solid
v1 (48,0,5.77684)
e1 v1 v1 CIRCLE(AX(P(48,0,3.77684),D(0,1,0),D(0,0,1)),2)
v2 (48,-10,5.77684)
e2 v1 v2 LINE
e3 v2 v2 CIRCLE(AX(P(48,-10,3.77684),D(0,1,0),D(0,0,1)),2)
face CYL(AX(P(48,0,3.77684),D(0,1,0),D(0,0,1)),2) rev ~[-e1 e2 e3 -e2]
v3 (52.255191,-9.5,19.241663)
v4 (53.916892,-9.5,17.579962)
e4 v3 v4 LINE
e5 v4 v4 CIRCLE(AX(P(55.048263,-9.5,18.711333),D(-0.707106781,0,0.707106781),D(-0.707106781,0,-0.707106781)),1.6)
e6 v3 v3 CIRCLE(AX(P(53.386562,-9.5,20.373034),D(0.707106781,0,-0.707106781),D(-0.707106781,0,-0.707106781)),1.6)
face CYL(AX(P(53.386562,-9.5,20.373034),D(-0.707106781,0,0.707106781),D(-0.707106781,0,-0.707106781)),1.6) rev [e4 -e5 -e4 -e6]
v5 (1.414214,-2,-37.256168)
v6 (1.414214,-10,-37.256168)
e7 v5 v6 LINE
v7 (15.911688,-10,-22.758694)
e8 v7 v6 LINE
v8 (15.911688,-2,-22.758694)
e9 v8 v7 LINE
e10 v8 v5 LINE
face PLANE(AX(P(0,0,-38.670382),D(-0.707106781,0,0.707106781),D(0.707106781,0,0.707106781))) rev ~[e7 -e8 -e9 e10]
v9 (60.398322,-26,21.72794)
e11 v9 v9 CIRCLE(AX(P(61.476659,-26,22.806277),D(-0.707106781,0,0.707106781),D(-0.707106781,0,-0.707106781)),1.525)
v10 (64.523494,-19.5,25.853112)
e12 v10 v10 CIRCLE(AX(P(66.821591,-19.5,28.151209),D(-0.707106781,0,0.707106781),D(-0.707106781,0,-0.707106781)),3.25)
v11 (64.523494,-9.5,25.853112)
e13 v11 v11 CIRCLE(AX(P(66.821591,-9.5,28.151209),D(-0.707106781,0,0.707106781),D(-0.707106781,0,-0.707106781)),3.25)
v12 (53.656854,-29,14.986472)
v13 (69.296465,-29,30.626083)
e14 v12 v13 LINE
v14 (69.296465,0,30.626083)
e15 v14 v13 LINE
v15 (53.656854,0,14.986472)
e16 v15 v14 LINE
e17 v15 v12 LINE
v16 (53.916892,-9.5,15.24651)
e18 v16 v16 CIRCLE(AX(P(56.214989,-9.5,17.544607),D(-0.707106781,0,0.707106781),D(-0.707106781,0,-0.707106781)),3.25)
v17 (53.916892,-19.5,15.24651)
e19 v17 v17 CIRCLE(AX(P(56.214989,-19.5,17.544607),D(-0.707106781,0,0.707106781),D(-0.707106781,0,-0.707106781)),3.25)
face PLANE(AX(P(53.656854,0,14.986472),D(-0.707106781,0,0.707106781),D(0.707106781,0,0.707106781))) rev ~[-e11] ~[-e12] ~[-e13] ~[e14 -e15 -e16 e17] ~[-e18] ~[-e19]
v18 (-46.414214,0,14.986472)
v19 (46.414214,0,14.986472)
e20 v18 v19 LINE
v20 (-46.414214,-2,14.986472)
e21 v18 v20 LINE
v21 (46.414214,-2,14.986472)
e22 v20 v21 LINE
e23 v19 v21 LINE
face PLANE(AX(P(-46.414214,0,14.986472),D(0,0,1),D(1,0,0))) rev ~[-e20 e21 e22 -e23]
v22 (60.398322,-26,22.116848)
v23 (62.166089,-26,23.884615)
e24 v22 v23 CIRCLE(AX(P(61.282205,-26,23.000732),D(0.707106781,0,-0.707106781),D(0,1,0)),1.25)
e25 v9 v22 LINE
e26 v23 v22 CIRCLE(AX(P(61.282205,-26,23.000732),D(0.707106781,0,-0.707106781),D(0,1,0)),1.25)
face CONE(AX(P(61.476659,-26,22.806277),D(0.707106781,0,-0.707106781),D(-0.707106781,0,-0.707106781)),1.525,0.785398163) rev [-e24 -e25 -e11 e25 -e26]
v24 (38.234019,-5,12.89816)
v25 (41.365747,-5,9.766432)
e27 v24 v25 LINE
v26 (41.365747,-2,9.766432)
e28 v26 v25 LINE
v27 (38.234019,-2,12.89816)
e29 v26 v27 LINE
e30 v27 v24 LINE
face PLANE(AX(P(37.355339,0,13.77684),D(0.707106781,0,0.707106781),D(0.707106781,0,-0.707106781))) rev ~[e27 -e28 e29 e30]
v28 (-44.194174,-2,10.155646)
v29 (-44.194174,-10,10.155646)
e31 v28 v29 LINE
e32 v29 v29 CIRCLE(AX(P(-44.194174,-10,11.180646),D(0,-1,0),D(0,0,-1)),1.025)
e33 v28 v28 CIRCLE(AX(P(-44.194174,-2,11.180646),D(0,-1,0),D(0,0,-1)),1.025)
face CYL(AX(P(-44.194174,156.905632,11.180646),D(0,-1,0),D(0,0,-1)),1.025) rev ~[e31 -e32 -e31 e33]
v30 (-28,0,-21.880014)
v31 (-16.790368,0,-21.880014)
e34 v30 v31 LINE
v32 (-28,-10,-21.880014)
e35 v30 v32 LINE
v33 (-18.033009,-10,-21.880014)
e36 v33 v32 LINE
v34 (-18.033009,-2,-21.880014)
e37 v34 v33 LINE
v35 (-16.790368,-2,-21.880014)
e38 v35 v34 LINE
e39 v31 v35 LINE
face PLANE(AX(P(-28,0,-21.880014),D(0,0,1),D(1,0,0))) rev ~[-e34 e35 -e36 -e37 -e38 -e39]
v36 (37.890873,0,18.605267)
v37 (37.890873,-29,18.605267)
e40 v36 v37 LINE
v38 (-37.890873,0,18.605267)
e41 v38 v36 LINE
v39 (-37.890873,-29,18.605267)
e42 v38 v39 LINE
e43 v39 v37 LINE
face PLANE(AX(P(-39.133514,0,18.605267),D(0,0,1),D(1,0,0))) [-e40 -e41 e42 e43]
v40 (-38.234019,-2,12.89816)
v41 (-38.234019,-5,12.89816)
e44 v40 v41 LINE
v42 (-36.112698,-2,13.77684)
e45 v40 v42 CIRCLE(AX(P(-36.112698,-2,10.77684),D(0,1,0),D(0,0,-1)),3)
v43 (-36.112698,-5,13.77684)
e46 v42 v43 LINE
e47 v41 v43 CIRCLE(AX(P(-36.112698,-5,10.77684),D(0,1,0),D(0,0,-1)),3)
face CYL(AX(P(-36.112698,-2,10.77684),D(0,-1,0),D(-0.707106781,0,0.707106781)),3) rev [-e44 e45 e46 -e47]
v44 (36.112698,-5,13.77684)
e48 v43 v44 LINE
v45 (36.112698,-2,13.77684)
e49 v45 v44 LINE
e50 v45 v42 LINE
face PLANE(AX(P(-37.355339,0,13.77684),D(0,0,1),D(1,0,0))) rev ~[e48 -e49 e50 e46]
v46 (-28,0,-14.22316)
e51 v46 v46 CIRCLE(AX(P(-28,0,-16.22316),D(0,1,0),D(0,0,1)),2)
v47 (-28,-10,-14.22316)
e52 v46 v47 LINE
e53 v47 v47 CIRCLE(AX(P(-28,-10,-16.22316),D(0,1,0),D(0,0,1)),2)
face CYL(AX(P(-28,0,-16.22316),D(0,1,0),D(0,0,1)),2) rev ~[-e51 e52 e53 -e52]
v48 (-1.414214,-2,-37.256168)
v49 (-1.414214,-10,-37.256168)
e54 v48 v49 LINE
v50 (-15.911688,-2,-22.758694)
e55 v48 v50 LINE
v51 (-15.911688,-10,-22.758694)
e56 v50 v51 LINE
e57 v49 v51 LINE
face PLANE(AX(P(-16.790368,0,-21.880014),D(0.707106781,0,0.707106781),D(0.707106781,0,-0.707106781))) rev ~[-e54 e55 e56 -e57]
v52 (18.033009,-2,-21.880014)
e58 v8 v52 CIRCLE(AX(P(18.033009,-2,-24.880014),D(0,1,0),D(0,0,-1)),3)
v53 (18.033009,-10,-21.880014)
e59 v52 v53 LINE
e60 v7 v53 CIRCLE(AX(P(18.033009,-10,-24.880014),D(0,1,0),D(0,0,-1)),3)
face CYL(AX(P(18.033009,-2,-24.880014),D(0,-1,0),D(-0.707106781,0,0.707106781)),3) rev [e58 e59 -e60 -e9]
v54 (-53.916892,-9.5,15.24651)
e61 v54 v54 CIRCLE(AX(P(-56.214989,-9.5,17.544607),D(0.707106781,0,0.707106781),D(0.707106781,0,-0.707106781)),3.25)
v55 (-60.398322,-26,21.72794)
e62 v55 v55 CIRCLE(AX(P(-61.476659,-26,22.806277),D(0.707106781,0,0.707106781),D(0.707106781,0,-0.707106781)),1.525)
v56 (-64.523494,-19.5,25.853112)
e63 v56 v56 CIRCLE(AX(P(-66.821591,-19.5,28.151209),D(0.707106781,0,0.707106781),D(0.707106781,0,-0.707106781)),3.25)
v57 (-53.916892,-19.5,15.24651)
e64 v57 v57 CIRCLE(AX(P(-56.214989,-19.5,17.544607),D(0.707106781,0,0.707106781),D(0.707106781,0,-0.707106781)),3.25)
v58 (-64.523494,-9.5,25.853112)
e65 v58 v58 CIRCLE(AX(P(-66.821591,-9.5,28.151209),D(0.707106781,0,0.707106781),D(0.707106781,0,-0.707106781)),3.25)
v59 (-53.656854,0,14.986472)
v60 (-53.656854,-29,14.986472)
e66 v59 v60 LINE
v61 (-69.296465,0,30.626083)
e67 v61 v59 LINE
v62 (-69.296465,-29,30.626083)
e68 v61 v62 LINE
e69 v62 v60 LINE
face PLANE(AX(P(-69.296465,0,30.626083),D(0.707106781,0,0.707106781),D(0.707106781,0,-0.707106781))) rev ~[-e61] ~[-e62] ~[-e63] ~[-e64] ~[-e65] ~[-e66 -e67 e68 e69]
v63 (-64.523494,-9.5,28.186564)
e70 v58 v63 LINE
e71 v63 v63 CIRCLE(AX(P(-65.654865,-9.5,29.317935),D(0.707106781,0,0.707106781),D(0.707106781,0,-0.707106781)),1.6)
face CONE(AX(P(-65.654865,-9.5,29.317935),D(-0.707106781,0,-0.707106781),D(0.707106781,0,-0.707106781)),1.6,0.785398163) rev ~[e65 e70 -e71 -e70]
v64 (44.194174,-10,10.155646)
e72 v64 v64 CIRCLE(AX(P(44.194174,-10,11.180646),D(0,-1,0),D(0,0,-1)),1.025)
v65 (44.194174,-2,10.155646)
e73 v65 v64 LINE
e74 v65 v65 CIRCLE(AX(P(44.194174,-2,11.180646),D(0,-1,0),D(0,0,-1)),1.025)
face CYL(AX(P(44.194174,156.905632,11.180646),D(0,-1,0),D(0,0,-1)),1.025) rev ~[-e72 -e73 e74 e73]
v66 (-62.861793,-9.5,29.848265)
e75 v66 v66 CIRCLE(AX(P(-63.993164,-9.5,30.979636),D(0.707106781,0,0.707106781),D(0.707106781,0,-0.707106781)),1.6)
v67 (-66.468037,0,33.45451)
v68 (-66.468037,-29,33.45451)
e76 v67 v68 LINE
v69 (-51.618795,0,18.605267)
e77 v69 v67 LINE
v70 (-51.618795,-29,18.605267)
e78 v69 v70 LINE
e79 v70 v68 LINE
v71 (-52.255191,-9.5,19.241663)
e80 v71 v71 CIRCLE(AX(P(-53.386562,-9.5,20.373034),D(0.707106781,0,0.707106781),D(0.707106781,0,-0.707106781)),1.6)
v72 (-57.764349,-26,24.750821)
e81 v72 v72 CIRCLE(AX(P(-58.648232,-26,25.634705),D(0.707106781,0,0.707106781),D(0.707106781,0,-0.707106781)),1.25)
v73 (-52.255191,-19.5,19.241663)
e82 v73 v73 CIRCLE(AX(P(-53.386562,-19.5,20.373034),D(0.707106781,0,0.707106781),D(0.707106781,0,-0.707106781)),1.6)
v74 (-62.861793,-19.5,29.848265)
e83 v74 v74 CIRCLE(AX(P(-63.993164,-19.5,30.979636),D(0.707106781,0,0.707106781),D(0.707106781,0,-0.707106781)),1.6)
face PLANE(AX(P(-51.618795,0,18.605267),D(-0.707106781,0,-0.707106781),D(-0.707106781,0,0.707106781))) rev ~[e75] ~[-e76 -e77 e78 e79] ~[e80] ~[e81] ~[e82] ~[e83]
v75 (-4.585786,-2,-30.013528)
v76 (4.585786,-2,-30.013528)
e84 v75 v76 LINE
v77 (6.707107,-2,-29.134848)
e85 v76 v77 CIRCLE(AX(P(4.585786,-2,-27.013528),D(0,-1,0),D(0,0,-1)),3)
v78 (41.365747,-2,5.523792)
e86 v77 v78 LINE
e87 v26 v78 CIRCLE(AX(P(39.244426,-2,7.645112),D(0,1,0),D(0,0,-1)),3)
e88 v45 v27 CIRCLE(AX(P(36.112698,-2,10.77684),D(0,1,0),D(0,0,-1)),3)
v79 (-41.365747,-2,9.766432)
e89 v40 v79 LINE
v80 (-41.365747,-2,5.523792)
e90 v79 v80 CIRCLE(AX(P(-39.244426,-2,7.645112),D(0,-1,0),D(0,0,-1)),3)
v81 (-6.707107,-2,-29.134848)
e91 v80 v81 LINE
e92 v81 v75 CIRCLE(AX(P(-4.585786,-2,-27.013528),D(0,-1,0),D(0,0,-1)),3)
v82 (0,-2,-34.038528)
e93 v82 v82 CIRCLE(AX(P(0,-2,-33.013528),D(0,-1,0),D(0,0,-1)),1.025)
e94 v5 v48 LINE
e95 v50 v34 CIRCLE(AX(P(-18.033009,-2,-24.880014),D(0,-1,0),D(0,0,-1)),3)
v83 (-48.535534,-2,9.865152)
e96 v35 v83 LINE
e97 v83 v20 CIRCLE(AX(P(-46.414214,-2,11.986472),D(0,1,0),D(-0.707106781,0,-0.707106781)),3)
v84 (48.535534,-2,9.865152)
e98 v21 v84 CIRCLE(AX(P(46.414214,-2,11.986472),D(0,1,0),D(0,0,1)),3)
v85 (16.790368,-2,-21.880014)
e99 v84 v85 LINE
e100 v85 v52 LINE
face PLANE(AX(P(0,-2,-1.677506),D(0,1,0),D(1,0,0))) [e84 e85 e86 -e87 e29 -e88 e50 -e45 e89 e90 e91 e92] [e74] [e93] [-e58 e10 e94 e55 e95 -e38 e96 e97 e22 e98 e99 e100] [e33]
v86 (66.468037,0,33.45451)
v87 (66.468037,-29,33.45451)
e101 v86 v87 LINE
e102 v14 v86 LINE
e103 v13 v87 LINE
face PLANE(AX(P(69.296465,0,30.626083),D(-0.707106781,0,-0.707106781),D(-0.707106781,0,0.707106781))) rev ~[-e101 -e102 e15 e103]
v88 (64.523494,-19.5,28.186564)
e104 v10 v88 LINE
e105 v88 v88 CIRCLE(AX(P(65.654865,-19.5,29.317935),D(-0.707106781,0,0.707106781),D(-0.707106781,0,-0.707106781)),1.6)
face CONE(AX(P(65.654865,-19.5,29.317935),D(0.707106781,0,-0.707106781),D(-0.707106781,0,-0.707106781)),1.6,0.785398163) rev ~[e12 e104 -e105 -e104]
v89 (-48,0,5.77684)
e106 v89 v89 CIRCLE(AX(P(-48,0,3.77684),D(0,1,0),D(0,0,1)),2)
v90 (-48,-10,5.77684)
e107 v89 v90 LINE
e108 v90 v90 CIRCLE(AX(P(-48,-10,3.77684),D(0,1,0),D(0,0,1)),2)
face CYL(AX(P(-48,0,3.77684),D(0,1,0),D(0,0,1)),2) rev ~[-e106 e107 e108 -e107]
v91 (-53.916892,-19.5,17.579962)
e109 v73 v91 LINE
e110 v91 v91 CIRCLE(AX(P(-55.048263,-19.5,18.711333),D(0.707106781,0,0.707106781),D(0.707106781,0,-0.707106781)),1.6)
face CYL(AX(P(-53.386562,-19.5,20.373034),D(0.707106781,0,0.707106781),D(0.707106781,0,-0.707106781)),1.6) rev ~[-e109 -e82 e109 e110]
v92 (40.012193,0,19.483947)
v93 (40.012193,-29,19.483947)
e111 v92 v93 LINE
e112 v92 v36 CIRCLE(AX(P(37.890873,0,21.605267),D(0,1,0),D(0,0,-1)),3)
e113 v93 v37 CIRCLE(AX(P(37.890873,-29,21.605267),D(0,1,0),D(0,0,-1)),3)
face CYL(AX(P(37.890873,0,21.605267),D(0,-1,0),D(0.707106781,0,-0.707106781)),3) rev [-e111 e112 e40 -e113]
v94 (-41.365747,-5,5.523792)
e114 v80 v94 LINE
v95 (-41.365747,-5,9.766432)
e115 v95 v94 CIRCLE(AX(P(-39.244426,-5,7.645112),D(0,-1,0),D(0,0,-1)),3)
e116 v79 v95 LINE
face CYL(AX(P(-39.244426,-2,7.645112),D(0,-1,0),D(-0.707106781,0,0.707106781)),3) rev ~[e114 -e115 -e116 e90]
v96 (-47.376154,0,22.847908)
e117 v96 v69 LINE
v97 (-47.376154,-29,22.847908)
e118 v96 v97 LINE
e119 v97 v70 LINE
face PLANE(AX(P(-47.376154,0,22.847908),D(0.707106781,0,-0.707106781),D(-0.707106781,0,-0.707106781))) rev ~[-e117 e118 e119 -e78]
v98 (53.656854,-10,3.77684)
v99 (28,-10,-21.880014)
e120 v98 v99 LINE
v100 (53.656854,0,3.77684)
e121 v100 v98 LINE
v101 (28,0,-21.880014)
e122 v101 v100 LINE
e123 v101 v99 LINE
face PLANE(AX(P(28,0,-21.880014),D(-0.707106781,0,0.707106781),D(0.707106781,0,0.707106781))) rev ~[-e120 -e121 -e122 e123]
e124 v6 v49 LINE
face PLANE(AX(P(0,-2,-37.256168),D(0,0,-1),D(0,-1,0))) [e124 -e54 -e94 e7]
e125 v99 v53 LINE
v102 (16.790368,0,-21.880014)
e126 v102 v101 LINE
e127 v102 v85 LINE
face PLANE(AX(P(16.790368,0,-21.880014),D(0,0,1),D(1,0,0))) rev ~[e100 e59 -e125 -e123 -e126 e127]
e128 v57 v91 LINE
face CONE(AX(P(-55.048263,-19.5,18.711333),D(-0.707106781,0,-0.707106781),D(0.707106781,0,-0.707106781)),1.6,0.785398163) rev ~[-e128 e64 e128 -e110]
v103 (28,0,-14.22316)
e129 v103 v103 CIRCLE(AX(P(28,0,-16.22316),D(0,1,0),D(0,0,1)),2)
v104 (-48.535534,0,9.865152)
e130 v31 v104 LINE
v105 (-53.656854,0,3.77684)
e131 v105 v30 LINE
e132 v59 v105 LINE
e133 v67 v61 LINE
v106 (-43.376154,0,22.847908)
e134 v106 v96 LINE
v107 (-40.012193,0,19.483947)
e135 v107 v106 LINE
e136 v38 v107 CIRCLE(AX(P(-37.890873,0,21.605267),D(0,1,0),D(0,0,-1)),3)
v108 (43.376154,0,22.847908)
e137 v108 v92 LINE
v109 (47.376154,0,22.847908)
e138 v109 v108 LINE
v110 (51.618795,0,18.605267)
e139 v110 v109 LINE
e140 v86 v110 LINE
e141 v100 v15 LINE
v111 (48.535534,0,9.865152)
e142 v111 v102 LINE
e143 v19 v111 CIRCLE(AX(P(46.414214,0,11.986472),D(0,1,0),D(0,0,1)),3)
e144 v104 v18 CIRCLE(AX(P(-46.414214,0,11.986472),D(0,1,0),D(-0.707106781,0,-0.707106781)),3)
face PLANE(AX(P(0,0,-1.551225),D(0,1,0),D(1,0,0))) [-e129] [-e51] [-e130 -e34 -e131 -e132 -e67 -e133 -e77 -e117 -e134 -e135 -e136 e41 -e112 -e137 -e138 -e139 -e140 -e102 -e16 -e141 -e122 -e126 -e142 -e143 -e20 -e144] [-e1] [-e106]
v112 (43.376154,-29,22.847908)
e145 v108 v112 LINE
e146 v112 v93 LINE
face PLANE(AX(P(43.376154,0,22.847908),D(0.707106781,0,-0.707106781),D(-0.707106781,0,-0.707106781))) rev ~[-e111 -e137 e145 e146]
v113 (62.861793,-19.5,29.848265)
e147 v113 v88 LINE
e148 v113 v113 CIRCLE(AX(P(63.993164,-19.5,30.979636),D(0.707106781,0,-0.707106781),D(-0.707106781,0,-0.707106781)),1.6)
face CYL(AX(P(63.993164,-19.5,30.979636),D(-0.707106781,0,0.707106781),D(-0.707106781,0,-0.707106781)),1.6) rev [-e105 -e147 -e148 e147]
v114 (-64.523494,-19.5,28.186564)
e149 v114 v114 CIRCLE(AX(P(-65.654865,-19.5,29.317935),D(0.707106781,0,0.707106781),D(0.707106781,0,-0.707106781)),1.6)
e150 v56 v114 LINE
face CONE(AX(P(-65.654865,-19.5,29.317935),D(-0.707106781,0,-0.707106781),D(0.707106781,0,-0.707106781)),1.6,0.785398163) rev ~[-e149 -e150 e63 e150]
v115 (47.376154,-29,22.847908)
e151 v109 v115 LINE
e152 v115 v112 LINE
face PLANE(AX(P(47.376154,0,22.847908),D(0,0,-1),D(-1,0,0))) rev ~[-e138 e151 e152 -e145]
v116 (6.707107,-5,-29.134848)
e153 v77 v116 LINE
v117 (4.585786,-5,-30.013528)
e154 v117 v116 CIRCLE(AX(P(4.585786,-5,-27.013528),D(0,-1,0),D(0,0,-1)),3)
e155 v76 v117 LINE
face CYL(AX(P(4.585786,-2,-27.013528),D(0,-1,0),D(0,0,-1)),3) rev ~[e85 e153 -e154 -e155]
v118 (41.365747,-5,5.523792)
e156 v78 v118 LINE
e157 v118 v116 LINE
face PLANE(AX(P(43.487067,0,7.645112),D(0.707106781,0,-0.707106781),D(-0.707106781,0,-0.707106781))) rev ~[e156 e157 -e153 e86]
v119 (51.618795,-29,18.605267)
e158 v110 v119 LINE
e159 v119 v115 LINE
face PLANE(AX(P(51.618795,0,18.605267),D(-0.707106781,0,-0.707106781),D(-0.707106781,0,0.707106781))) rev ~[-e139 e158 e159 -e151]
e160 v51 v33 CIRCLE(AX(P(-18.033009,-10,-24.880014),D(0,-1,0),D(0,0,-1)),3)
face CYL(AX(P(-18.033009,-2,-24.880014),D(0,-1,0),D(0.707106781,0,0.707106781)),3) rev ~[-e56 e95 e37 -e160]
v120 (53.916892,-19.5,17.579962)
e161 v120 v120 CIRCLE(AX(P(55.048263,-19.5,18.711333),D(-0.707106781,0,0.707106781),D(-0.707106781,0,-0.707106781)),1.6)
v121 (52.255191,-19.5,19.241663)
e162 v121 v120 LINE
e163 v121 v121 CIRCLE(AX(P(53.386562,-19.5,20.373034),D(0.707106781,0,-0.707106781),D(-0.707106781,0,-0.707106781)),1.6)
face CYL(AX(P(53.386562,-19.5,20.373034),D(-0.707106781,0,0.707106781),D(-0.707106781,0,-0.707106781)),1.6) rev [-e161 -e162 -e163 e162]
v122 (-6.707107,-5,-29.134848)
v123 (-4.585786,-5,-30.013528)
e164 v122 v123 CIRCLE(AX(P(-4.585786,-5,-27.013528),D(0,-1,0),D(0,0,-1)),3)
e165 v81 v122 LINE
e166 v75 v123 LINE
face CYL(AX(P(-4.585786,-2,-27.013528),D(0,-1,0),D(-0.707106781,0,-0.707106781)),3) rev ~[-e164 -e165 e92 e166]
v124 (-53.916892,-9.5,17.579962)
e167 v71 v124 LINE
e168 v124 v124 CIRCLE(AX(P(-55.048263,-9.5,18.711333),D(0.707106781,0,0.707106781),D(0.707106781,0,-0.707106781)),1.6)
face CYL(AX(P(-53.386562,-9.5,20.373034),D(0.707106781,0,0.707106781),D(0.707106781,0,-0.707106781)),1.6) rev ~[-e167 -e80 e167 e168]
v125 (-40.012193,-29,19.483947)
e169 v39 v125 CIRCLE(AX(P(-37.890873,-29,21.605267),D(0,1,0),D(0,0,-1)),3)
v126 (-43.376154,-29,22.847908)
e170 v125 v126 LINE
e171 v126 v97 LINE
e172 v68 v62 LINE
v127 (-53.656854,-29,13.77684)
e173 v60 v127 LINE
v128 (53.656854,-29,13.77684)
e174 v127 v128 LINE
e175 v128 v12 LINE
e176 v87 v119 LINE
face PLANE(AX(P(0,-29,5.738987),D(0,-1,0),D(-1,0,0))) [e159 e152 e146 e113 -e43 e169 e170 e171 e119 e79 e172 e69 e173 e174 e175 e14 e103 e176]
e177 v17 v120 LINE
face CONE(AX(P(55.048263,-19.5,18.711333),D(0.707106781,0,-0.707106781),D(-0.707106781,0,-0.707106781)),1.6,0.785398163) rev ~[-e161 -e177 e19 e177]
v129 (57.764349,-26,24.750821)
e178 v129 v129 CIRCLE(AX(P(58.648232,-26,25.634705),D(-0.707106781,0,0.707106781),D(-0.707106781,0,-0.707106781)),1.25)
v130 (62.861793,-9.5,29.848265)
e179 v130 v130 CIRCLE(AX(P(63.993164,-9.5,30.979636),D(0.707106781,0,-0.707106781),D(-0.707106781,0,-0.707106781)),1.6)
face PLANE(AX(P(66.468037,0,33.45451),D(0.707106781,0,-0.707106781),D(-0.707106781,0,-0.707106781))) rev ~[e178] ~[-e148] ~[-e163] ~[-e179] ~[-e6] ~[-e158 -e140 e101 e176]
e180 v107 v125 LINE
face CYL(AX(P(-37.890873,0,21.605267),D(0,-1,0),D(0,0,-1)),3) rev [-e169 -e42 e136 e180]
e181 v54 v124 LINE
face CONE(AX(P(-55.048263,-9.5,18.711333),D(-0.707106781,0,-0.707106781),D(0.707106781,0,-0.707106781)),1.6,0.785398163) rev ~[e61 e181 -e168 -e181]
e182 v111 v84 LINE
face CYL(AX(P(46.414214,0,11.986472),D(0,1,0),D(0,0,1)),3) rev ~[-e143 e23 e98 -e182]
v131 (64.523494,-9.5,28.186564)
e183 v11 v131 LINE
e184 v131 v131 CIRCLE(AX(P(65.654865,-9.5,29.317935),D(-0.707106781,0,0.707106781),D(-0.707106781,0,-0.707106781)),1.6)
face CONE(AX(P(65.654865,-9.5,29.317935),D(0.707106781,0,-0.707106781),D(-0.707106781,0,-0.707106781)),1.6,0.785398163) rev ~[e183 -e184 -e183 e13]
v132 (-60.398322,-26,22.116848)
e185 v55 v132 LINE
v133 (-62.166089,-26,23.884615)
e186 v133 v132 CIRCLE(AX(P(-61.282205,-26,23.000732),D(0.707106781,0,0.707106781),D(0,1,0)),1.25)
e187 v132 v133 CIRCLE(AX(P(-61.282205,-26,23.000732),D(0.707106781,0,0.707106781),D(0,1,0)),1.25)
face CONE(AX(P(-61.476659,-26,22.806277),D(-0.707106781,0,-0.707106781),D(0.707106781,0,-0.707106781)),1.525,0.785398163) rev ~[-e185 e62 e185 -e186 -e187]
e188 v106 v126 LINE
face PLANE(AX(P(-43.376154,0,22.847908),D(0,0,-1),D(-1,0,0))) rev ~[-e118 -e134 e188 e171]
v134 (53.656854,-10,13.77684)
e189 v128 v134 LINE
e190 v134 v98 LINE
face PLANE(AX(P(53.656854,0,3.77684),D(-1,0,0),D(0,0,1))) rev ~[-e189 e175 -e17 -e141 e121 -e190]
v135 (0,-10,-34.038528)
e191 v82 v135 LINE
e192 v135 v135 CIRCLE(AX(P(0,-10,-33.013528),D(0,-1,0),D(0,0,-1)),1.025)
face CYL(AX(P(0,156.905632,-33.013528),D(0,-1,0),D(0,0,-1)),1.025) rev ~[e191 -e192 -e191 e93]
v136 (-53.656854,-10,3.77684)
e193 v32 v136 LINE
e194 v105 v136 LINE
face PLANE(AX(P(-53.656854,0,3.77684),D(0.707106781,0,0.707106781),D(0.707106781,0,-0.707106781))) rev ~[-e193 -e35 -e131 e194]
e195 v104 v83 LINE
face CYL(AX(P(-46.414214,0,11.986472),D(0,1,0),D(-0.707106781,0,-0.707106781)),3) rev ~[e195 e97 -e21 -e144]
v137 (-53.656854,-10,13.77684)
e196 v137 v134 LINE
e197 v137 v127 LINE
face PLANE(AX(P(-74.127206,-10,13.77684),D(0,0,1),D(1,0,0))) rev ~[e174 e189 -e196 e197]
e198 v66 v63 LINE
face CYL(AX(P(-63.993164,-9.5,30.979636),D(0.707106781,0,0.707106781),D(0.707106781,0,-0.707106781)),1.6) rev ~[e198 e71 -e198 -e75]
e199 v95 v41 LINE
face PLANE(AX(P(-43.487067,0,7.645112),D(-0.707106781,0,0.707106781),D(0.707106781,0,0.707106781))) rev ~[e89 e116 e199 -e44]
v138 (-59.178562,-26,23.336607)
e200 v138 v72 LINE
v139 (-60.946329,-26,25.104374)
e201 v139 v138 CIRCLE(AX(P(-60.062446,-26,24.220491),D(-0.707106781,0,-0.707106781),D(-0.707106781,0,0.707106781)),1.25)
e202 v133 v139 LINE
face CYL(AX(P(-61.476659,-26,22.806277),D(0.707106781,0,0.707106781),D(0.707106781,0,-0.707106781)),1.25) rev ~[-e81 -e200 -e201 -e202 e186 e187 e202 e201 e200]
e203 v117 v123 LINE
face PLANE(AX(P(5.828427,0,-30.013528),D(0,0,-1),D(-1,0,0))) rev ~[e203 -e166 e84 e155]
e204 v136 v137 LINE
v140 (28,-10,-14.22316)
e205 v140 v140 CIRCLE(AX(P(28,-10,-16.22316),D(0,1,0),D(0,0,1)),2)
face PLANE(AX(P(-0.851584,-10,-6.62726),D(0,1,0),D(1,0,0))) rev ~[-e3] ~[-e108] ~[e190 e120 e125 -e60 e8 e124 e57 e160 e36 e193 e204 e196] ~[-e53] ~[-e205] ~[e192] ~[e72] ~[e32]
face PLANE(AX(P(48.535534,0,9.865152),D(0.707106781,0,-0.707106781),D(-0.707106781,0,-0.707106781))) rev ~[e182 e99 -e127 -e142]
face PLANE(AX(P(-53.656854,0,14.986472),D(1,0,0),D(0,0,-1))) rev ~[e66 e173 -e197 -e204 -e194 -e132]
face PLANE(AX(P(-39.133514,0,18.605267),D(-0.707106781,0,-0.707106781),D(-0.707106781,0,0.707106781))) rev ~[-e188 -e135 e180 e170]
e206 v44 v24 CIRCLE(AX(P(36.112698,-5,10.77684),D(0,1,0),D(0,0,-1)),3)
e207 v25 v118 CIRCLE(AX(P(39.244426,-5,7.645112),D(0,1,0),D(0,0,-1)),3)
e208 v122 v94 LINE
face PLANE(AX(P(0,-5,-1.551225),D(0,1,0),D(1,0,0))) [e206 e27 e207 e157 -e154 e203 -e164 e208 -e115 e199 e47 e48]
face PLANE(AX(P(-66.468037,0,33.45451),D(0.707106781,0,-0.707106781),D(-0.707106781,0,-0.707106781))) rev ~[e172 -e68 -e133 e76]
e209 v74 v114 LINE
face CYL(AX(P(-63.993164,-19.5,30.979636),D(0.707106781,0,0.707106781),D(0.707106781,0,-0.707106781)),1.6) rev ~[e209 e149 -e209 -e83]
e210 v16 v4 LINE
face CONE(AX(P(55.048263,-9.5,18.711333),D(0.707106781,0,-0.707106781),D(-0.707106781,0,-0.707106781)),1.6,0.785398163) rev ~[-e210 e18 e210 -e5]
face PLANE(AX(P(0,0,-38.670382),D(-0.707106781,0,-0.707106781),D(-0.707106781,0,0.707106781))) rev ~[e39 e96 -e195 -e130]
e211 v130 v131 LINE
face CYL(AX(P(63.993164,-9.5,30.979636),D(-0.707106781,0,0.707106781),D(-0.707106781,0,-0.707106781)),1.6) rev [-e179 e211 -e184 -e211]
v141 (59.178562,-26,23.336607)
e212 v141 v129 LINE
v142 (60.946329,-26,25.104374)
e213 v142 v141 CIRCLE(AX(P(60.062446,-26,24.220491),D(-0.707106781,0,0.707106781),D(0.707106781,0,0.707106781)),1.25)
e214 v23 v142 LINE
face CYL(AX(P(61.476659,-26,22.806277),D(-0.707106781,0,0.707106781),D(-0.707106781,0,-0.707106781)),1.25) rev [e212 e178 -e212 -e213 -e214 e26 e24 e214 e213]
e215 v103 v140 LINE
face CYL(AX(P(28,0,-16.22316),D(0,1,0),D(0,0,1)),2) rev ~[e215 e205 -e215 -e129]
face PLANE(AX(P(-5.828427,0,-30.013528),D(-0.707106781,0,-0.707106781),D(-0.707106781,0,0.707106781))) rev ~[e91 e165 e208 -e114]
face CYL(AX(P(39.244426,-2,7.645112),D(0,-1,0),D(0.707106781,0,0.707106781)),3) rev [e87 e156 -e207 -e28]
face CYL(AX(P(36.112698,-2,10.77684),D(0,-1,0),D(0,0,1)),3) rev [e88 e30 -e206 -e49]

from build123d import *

# Parameters (mm, degrees)
SKETCH_1_R                   = 1
SKETCH_1_R_2                 = 2
EXTRUDE_1_DEPTH              = 29
CUT_EXTRUDE_1_DEPTH          = 5
CUT_EXTRUDE_START            = -10
CUT_EXTRUDE_2_DEPTH          = 19
CUT_EXTRUDE_3_DEPTH          = 2
SKETCH_11_R                  = 1.6
CUT_EXTRUDE_4_DEPTH          = 104.437531222
SKETCH_13_R                  = 1.25
CUT_EXTRUDE_5_DEPTH          = 2
HOLE_WIZARD_M2_5_6_D         = 2.05
HOLE_WIZARD_M3_1_D           = 2.5
HOLE_WIZARD_M3_1_CSINK_D     = 3.05
HOLE_WIZARD_M3_1_CSINK_ANGLE = 90
CHAMFER_1_SIZE               = 2
FILLET_1_R                   = 3
CHAMFER_2_SIZE               = 1.65


with BuildPart() as part:
    # 草图1 → 凸台-拉伸1 (new body)
    with BuildSketch(Plane(origin=(0, 0, 0), x_dir=(1, 0, 0), z_dir=(0, 1, 0))):
        Polygon((-53.656854249, -3.776840134), (-53.656854249, -14.986472232), (-69.296464556, -30.626082539), (-66.468037432, -33.454509664), (-51.618795027, -18.605267259), (-47.376154339, -22.847907946), (-43.376154339, -22.847907946), (-39.133513652, -18.605267259), (39.133513652, -18.605267259), (43.376154339, -22.847907946), (47.376154339, -22.847907946), (51.618795027, -18.605267259), (66.468037432, -33.454509664), (69.296464556, -30.626082539), (53.656854249, -14.986472232), (53.656854249, -3.776840134), (28, 21.880014115), (16.790367902, 21.880014115), (0, 38.670382017), (-16.790367902, 21.880014115), (-28, 21.880014115), align=None)
        with Locations((-44.194173824, -11.180646057)):
            Circle(SKETCH_1_R, mode=Mode.SUBTRACT)
        with Locations((-48, -3.776840134)):
            Circle(SKETCH_1_R_2, mode=Mode.SUBTRACT)
        with Locations((44.194173824, -11.180646057)):
            Circle(SKETCH_1_R, mode=Mode.SUBTRACT)
        with Locations((48, -3.776840134)):
            Circle(SKETCH_1_R_2, mode=Mode.SUBTRACT)
        with Locations((-28, 16.223159866)):
            Circle(SKETCH_1_R_2, mode=Mode.SUBTRACT)
        with Locations((28, 16.223159866)):
            Circle(SKETCH_1_R_2, mode=Mode.SUBTRACT)
        with Locations((0, 33.013527768)):
            Circle(SKETCH_1_R, mode=Mode.SUBTRACT)
    extrude(amount=-EXTRUDE_1_DEPTH)

    # 草图1<3> → 切除-拉伸1 (cut)
    with BuildSketch(Plane(origin=(0, 0, 0), x_dir=(1, 0, 0), z_dir=(0, 1, 0))):
        Polygon((5.828427125, 30.013527768), (-5.828427125, 30.013527768), (-43.487067043, -7.645112151), (-37.355339059, -13.776840134), (37.355339059, -13.776840134), (43.487067043, -7.645112151), align=None)
    extrude(amount=-CUT_EXTRUDE_1_DEPTH, mode=Mode.SUBTRACT)

    # 草图3 → 切除-拉伸2 (cut)
    with BuildSketch(Plane(origin=(0, 0, 0), x_dir=(1, 0, 0), z_dir=(0, 1, 0)).offset(CUT_EXTRUDE_START)):
        Polygon((-74.127206293, -13.776840134), (70.632375227, -13.776840134), (4.598461929, 56.317971506), align=None)
    extrude(amount=-CUT_EXTRUDE_2_DEPTH, mode=Mode.SUBTRACT)

    # 草图4 → 切除-拉伸3 (cut)
    with BuildSketch(Plane(origin=(0, 0, 0), x_dir=(1, 0, 0), z_dir=(0, 1, 0))):
        with BuildLine():
            Line((-2.121320344, 36.549061673), (-48.535533906, -9.865151889))
            ThreePointArc((-48.535533906, -9.865151889), (-49.18585216, -13.13452253), (-46.414213562, -14.986472232))
            Line((-46.414213562, -14.986472232), (46.414213562, -14.986472232))
            ThreePointArc((46.414213562, -14.986472232), (49.18585216, -13.13452253), (48.535533906, -9.865151889))
            Line((48.535533906, -9.865151889), (0, 38.670382017))
            Line((0, 38.670382017), (-2.121320344, 36.549061673))
        make_face()
    extrude(amount=-CUT_EXTRUDE_3_DEPTH, mode=Mode.SUBTRACT)

    # 草图11 → 切除-拉伸4 (cut, through all)
    with BuildSketch(Plane(origin=(-16.506763884, 0, -16.506763884), x_dir=(0.7071067811865477, 0, -0.7071067811865474), z_dir=(0.7071067811865474, 0, 0.7071067811865477))):
        with Locations((-52.155910645, -9.5)):
            Circle(SKETCH_11_R)
        with Locations((-52.155910645, -19.5)):
            Circle(SKETCH_11_R)
        with Locations((-67.155910645, -19.5)):
            Circle(SKETCH_11_R)
        with Locations((-67.155910645, -9.5)):
            Circle(SKETCH_11_R)
    cut_extrude_4 = extrude(amount=-CUT_EXTRUDE_4_DEPTH, mode=Mode.SUBTRACT)

    # 草图13 → 切除-拉伸5 (cut)
    with BuildSketch(Plane(origin=(-19.335191009, 0, -19.335191009), x_dir=(-0.7071067811865488, 0, 0.7071067811865462), z_dir=(-0.7071067811865462, 0, -0.7071067811865488))):
        with Locations((59.597036142, -26)):
            Circle(SKETCH_13_R)
    cut_extrude_5 = extrude(amount=-CUT_EXTRUDE_5_DEPTH, mode=Mode.SUBTRACT)

    # M2.5 螺纹孔6 (through all)
    with Locations(Plane(origin=(0, -2, -33.013527768), x_dir=(0, 0, 1), z_dir=(0, 1, 0))):
        with Locations((0, 0), (44.194173825, -44.194173824), (44.194173825, 44.194173824)):
            Hole(HOLE_WIZARD_M2_5_6_D / 2)

    # M3 螺纹孔1 (through all)
    with Locations(Plane(origin=(-61.476659403, -26, 22.806277386), x_dir=(-0.707106781187, 0, 0.707106781187), z_dir=(-0.707106781187, 0, -0.707106781187))):
        with Locations((0, 0)):
            hole_wizard_m3_1 = CounterSinkHole(HOLE_WIZARD_M3_1_D / 2, HOLE_WIZARD_M3_1_CSINK_D / 2, counter_sink_angle=HOLE_WIZARD_M3_1_CSINK_ANGLE)

    # 镜向2: 切除-拉伸4, 切除-拉伸5, M3 螺纹孔1 across plane
    add(cut_extrude_4.mirror(Plane.ZY), mode=Mode.SUBTRACT)
    add(cut_extrude_5.mirror(Plane.ZY), mode=Mode.SUBTRACT)
    add(hole_wizard_m3_1.mirror(Plane.ZY), mode=Mode.SUBTRACT)

    # 倒角1
    chamfer_1_edges = [part.edges().sort_by_distance(p)[0] for p in [
        (0, -6, -38.670382017),
    ]]
    chamfer(chamfer_1_edges, length=CHAMFER_1_SIZE)

    # 圆角1
    fillet_1_edges = [part.edges().sort_by_distance(p)[0] for p in [
        (43.487067043, -3.5, 7.645112151),
        (37.355339059, -3.5, 13.776840134),
        (-37.355339059, -3.5, 13.776840134),
        (-43.487067043, -3.5, 7.645112151),
        (5.828427125, -3.5, -30.013527768),
        (-5.828427125, -3.5, -30.013527768),
        (-39.133513652, -14.5, 18.605267259),
        (39.133513652, -14.5, 18.605267259),
        (16.790367902, -6, -21.880014115),
        (-16.790367902, -6, -21.880014115),
    ]]
    fillet(fillet_1_edges, radius=FILLET_1_R)

    # 倒角2
    chamfer_2_edges = [part.edges().sort_by_distance(p)[0] for p in [
        (-67.952961672, -9.5, 29.282579655),
        (-67.952961672, -19.5, 29.282579655),
        (-57.346359954, -19.5, 18.675977937),
        (-57.346359954, -9.5, 18.675977937),
        (57.346359954, -19.5, 18.675977937),
        (67.952961672, -19.5, 29.282579655),
        (67.952961672, -9.5, 29.282579655),
        (57.346359954, -9.5, 18.675977937),
    ]]
    chamfer(chamfer_2_edges, length=CHAMFER_2_SIZE)


solid = part.part
